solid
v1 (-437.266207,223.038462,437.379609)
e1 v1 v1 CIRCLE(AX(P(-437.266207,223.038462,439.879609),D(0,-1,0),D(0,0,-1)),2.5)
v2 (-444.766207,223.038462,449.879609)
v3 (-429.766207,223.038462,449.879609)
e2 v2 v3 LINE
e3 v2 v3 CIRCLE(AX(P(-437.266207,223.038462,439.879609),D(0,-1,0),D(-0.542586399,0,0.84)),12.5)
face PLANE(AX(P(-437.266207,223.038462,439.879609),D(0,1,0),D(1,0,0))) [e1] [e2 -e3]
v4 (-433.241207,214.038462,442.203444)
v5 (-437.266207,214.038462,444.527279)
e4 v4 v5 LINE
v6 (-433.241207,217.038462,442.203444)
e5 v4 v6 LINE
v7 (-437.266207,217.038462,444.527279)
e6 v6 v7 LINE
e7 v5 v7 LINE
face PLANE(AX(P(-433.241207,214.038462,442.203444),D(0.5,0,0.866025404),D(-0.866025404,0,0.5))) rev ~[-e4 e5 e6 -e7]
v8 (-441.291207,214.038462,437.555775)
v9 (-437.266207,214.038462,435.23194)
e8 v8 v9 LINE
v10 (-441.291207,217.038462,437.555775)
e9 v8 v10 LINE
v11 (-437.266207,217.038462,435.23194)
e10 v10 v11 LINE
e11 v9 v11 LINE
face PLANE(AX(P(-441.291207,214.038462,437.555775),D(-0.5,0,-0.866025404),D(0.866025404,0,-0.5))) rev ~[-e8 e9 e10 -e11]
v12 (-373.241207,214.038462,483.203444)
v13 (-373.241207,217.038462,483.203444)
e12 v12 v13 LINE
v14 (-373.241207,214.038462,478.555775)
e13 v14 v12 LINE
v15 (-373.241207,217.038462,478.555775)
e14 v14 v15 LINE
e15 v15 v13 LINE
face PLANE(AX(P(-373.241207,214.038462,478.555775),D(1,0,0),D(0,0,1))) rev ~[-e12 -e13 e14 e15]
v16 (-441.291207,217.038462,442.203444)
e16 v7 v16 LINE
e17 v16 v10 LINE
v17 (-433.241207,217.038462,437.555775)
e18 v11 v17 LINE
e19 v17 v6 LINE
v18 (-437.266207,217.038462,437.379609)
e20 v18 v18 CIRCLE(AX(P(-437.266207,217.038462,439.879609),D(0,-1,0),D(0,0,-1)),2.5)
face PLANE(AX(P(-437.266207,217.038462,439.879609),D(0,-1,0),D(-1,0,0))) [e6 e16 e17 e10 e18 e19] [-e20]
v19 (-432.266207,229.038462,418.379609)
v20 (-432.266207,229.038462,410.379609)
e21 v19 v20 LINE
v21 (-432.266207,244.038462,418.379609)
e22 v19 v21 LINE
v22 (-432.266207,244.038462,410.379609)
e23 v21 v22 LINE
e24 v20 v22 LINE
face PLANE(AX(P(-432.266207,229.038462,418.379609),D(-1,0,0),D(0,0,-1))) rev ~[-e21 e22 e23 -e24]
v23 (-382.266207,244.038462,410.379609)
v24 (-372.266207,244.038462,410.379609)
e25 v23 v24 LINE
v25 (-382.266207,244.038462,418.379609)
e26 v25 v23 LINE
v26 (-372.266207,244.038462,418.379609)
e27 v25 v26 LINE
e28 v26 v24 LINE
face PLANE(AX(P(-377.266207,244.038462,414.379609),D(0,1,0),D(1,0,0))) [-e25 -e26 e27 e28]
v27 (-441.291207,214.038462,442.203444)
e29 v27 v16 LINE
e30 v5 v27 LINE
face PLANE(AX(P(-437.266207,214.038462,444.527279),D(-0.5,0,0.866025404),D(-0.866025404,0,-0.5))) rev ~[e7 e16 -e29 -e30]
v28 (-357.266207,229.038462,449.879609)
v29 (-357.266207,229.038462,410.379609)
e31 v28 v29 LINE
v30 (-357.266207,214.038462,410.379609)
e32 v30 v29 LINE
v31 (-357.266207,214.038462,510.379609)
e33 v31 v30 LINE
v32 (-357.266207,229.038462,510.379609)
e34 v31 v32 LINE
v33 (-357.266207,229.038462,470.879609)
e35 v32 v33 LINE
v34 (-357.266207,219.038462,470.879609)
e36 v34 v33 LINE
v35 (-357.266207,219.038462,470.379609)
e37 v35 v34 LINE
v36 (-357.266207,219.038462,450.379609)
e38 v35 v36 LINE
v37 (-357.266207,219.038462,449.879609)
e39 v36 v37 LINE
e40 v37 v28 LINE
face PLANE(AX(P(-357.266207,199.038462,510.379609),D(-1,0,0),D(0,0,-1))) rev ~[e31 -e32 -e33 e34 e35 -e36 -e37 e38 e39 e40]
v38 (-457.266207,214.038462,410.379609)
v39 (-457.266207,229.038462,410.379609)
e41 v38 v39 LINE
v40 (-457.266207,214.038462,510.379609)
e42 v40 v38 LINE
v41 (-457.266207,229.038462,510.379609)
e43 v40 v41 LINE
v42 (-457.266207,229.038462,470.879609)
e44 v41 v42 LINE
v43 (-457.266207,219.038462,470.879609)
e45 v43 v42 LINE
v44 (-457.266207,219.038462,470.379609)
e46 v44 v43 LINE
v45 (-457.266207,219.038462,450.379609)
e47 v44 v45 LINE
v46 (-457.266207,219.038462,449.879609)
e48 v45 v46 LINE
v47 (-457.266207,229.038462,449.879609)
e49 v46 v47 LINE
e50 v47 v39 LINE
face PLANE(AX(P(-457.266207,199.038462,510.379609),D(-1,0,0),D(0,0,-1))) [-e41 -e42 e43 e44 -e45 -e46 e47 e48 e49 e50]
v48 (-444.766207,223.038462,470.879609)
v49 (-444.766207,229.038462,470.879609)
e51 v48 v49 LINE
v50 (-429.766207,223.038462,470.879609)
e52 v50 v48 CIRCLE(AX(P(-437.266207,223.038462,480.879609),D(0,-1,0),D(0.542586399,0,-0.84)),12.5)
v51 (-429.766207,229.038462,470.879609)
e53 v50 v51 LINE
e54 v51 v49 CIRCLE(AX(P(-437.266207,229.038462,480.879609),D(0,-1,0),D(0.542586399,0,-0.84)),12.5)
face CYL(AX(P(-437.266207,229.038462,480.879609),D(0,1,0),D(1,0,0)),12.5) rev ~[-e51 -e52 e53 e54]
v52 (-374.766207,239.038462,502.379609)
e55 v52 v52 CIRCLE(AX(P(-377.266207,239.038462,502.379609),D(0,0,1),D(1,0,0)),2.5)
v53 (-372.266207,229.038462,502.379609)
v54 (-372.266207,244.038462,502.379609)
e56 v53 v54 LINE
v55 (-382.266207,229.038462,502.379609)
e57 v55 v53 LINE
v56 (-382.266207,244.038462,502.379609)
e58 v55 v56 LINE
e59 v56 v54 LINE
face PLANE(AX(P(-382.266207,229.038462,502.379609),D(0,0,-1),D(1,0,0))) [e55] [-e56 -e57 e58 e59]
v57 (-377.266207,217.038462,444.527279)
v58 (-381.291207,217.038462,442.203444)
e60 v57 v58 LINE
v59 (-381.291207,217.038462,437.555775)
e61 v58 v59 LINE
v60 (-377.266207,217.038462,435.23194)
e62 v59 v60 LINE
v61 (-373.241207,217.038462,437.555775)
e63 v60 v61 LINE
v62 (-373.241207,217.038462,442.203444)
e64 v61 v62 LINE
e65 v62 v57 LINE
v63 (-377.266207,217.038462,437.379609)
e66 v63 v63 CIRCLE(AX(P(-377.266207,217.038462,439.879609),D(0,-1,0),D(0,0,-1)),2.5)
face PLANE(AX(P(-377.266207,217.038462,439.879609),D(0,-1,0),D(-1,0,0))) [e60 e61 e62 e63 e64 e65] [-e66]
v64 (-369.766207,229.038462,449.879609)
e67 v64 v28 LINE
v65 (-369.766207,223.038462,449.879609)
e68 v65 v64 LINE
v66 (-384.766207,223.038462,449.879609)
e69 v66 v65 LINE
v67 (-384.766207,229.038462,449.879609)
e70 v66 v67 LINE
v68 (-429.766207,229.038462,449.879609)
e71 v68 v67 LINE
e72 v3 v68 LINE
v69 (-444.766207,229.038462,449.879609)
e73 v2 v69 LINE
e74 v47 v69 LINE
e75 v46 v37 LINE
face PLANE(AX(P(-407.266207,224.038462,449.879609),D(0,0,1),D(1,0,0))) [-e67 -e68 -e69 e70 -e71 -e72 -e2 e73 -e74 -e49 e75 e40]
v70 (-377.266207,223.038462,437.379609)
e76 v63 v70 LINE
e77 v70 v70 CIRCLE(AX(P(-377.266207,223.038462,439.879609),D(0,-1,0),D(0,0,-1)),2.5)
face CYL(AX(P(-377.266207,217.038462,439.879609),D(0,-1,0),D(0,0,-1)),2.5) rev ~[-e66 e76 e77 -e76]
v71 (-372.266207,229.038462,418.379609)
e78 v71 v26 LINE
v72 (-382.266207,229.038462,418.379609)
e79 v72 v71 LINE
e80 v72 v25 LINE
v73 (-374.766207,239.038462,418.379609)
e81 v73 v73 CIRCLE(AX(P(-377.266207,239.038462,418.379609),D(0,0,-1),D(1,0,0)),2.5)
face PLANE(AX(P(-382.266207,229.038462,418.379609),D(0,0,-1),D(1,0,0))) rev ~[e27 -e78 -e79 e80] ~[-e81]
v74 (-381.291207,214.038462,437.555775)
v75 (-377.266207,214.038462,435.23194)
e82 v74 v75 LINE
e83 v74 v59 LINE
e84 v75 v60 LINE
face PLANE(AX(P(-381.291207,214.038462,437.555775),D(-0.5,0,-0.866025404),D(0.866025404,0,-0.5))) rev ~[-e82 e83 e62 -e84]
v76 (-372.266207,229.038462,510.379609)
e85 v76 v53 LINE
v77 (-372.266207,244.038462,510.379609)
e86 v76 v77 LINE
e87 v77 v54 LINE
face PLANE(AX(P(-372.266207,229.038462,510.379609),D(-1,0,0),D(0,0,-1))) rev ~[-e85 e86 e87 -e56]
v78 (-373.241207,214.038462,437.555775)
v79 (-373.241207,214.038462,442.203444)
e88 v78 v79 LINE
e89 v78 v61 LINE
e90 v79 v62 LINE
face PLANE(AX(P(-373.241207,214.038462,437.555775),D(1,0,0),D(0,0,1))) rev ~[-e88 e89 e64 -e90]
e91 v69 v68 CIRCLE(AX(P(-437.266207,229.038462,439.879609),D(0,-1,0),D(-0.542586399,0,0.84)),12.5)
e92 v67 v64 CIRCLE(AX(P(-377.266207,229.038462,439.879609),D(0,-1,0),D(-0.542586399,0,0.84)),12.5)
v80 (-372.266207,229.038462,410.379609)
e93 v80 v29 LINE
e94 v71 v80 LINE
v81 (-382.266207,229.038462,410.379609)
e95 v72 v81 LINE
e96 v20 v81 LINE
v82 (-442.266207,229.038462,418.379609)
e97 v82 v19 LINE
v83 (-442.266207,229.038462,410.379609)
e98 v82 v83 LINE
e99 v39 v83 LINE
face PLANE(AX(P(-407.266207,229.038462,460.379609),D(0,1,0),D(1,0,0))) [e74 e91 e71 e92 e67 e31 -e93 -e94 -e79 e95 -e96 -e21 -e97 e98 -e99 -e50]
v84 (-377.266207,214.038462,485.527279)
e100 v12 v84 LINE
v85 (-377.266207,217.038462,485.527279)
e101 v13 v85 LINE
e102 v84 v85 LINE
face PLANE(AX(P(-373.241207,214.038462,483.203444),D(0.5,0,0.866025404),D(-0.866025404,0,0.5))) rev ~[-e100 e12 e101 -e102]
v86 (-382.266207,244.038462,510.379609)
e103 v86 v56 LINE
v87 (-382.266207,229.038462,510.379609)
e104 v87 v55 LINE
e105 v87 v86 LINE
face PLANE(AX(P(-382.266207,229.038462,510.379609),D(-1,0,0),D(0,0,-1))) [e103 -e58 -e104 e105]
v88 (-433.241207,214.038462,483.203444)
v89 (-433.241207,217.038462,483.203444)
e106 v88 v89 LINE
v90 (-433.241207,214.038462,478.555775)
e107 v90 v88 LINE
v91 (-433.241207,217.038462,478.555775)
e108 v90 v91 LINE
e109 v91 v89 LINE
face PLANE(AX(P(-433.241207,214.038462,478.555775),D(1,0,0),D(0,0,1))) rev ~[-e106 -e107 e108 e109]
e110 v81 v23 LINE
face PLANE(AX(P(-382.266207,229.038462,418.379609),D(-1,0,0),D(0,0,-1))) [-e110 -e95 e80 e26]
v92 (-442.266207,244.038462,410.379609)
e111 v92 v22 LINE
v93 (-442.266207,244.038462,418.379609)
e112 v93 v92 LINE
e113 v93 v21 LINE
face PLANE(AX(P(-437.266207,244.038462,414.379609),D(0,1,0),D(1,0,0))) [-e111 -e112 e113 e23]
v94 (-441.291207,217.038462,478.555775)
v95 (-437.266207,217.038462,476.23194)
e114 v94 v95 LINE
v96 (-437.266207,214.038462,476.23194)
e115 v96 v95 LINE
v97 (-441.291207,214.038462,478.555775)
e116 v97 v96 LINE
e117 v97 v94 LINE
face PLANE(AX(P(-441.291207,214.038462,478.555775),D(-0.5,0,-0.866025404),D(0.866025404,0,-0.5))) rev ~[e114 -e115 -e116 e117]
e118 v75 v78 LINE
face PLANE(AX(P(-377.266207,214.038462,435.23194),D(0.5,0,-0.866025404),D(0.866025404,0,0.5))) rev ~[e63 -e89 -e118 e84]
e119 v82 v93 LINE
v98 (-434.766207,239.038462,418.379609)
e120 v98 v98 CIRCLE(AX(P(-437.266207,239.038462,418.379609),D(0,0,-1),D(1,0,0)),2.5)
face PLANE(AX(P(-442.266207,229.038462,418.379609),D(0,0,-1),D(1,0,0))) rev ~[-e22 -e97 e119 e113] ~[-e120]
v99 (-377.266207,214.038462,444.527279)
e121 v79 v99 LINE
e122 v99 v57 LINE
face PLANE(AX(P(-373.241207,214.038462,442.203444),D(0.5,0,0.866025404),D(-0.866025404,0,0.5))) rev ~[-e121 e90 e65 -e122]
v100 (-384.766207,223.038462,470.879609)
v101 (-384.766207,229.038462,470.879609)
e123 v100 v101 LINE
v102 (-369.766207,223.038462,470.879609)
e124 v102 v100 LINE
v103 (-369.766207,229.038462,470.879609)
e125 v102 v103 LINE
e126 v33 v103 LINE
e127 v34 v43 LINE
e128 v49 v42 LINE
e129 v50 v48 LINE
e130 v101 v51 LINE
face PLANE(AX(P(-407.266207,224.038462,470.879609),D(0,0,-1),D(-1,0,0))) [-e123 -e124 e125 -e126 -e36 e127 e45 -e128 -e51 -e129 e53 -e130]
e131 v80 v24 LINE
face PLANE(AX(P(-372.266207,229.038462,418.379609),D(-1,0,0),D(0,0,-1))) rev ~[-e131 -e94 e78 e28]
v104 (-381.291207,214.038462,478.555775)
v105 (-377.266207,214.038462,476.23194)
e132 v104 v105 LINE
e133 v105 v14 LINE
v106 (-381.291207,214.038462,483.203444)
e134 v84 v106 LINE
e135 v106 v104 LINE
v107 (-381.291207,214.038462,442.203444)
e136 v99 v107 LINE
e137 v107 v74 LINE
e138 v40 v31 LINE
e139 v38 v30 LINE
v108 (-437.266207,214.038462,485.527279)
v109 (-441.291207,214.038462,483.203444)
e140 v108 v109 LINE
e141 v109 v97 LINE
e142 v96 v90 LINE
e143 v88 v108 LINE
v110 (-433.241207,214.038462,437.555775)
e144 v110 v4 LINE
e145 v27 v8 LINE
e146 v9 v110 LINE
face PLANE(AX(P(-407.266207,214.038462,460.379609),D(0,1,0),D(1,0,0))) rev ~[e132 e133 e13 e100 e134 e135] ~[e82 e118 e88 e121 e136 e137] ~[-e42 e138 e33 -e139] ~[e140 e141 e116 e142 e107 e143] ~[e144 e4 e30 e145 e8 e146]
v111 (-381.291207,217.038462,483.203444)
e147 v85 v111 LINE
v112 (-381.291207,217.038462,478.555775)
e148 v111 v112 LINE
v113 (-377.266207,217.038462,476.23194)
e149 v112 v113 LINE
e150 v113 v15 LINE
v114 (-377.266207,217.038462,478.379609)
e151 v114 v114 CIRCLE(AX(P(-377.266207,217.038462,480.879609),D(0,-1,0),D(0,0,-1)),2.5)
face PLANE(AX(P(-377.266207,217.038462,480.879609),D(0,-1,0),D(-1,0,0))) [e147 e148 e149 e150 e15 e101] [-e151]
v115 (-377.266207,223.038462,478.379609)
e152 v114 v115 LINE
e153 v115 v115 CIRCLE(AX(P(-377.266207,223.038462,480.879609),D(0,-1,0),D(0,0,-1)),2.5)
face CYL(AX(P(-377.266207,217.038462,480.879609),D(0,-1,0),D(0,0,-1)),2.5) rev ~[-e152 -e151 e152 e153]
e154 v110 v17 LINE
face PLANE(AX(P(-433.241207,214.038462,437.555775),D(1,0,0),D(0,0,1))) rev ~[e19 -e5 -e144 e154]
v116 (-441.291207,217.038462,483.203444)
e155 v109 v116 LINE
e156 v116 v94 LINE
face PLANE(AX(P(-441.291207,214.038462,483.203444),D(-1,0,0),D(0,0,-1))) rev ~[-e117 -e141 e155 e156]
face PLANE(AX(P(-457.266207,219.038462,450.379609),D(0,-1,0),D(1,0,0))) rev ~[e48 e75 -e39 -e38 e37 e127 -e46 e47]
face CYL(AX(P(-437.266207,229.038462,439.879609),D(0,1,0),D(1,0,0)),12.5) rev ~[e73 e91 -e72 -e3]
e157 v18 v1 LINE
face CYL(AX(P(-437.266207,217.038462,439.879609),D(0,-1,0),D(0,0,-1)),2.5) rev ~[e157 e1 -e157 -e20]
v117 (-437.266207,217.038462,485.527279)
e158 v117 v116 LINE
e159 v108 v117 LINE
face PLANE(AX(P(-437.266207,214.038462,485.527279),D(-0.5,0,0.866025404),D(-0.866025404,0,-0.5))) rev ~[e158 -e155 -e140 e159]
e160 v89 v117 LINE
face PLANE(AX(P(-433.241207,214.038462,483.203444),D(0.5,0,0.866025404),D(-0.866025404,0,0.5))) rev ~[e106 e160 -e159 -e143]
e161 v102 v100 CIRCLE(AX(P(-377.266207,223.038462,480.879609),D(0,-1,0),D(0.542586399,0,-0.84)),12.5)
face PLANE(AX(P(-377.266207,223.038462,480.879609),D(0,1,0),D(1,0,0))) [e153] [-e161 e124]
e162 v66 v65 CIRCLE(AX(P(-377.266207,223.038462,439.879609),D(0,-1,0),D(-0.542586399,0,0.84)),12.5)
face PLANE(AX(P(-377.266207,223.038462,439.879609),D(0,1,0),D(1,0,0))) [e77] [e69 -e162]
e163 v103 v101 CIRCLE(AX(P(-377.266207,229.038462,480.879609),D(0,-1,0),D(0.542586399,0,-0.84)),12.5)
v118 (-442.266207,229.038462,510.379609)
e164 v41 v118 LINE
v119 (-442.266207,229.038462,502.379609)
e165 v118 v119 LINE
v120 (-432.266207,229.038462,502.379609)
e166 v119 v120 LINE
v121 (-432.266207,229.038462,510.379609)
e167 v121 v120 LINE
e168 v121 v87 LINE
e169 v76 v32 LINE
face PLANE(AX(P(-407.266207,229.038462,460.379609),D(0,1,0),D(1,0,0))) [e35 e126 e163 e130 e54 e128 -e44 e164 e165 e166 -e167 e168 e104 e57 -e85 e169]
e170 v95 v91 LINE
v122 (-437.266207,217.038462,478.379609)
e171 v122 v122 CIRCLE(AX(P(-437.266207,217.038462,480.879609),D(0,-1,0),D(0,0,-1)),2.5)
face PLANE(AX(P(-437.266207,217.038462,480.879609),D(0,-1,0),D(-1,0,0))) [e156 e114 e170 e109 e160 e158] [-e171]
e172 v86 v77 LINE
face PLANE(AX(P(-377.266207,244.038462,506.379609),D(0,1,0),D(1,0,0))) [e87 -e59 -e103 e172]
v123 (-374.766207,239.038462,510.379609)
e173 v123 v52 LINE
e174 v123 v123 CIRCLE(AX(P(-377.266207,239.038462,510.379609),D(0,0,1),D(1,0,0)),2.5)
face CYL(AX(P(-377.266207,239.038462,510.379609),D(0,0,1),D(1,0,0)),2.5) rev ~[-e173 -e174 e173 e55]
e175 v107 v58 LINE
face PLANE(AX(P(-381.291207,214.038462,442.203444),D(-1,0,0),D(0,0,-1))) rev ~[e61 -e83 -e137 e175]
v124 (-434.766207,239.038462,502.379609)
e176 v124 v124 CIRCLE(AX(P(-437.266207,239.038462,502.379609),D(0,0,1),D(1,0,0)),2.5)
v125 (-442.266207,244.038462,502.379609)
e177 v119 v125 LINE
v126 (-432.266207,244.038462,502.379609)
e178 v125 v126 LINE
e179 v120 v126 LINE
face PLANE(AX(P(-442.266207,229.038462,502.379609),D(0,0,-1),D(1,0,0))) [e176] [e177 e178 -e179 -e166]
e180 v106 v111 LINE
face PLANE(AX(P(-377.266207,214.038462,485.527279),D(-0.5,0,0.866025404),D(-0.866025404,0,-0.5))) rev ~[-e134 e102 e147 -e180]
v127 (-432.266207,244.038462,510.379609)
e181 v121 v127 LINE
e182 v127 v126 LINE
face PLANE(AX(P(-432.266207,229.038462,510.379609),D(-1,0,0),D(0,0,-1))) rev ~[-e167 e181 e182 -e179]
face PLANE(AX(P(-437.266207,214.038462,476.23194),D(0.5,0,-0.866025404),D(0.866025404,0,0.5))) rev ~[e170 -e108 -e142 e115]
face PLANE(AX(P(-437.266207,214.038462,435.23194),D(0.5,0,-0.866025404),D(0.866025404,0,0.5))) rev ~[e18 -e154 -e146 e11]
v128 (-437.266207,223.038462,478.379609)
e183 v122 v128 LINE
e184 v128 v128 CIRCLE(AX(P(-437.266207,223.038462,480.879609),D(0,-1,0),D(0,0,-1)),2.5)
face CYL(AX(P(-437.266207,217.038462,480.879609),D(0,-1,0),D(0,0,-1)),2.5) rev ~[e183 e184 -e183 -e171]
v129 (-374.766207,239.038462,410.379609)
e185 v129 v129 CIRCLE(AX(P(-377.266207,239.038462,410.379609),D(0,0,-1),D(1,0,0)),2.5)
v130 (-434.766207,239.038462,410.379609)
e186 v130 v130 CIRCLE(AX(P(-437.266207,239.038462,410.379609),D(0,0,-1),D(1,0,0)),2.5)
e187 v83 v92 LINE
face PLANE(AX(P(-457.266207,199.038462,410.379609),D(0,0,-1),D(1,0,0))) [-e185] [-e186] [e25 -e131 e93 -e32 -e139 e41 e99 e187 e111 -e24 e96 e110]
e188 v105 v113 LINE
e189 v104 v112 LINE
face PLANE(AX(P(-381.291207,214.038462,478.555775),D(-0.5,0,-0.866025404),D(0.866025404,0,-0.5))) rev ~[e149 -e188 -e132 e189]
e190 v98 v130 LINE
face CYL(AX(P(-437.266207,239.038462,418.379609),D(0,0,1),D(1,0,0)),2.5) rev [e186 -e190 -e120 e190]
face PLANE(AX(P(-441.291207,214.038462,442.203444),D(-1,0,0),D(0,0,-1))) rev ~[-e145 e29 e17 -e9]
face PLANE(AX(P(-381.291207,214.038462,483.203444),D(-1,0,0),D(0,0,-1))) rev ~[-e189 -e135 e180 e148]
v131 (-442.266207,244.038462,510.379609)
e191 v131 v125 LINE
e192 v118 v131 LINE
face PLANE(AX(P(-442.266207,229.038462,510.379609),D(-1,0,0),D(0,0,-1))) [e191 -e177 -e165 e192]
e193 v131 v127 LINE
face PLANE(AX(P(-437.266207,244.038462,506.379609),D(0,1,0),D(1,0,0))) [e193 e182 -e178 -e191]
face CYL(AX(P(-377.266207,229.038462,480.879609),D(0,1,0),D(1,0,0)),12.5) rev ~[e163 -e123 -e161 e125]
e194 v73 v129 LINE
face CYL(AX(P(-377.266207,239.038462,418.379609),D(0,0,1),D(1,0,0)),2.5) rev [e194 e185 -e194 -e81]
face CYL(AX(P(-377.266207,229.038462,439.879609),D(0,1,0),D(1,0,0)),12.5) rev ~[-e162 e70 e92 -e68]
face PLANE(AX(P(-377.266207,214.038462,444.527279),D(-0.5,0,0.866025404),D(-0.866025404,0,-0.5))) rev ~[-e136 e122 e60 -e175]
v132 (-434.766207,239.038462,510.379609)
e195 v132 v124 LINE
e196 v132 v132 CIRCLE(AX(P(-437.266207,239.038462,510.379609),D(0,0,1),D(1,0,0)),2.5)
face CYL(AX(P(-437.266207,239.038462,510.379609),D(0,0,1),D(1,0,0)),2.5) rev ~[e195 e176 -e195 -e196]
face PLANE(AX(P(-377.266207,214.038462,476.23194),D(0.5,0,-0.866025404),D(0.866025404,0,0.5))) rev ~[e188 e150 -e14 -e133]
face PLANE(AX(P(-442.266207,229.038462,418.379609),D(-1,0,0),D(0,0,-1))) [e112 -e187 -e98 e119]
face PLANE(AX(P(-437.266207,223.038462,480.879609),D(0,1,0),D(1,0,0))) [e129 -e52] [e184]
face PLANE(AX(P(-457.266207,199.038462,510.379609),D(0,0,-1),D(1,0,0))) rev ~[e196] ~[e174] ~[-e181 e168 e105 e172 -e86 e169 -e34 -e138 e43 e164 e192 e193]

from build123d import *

# Parameters (mm, degrees)
SKETCH1_W           = 1000
SKETCH1_H           = 1000
BOSS_EXTRUDE1_DEPTH = 300
SKETCH2_W           = 1000
SKETCH2_H           = 200
CUT_EXTRUDE1_DEPTH  = 100
MOVE_FACE1_BY       = 150
SCALE1_SCALE        = 0.1
SKETCH5_R           = 12.5
CUT_EXTRUDE4_DEPTH  = 6
SKETCH11_R          = 12.5
CUT_EXTRUDE5_DEPTH  = 6
SKETCH12_R          = 12.5
CUT_EXTRUDE6_DEPTH  = 6
SKETCH13_R          = 12.5
CUT_EXTRUDE7_DEPTH  = 6
CUT_EXTRUDE8_DEPTH  = 3
SKETCH15_R          = 2.5
CUT_EXTRUDE9_DEPTH  = 16
CUT_EXTRUDE10_DEPTH = 3
SKETCH17_R          = 2.5
CUT_EXTRUDE11_DEPTH = 10
CUT_EXTRUDE12_DEPTH = 3
SKETCH19_R          = 2.5
CUT_EXTRUDE13_DEPTH = 10
CUT_EXTRUDE14_DEPTH = 3
SKETCH21_R          = 2.5
CUT_EXTRUDE15_DEPTH = 10
SKETCH27_W          = 10
SKETCH27_H          = 8
BOSS_EXTRUDE3_DEPTH = 15
CUT_EXTRUDE21_REACH = 529.87
SKETCH28_R          = 2.5
SKETCH30_W          = 10
SKETCH30_H          = 8
BOSS_EXTRUDE4_DEPTH = 15
SKETCH31_R          = 2.5
CUT_EXTRUDE22_DEPTH = 8
SKETCH32_W          = 10
SKETCH32_H          = 8
BOSS_EXTRUDE5_DEPTH = 15
CUT_EXTRUDE23_START = -8
SKETCH33_R          = 2.5
CUT_EXTRUDE23_DEPTH = 8
SKETCH34_W          = 10
SKETCH34_H          = 8
BOSS_EXTRUDE6_DEPTH = 15
CUT_EXTRUDE24_START = -8
SKETCH35_R          = 2.5
CUT_EXTRUDE24_DEPTH = 8
SKETCH40_W          = 100
SKETCH40_H          = 10
CUT_EXTRUDE25_DEPTH = 0.5
SKETCH41_W          = 100
SKETCH41_H          = 10
CUT_EXTRUDE26_DEPTH = 0.5


with BuildPart() as part:
    # Sketch1 → Boss-Extrude1 (new body)
    with BuildSketch(Plane(origin=(0, 0, 0), x_dir=(1, 0, 0), z_dir=(0, 1, 0))):
        with Locations((-407.266206583, -460.379609426)):
            Rectangle(SKETCH1_W, SKETCH1_H)
    extrude(amount=BOSS_EXTRUDE1_DEPTH)

    # Sketch2 → Cut-Extrude1 (cut)
    with BuildSketch(Plane(origin=(0, 300, 0), x_dir=(1, 0, 0), z_dir=(0, 1, 0))):
        with Locations((-407.266206583, -460.379609426)):
            Rectangle(SKETCH2_W, SKETCH2_H)
    extrude(amount=-CUT_EXTRUDE1_DEPTH, mode=Mode.SUBTRACT)

    # Move Face1: a face moved inward by 150.0
    extrude(part.faces().sort_by_distance((-407.266206583, 0, 460.379609426))[0], amount=MOVE_FACE1_BY, dir=(0, 1, 0), mode=Mode.SUBTRACT)


with BuildPart() as part_1:
    # Scale1: scaled about (-407.266206583, 221.153846154, 460.379609426)
    add(part.part.scale(SCALE1_SCALE).moved(Location((-366.539585925, 199.038461539, 414.341648483))))

    # Sketch5 → Cut-Extrude4 (cut)
    with BuildSketch(Plane(origin=(0, 229.038461538, 0), x_dir=(1, 0, 0), z_dir=(0, 1, 0))):
        with Locations((-437.266206583, -439.879609426)):
            Circle(SKETCH5_R)
    extrude(amount=-CUT_EXTRUDE4_DEPTH, mode=Mode.SUBTRACT)

    # Sketch11 → Cut-Extrude5 (cut)
    with BuildSketch(Plane(origin=(0, 229.038461538, 0), x_dir=(1, 0, 0), z_dir=(0, 1, 0))):
        with Locations((-377.266206583, -439.879609426)):
            Circle(SKETCH11_R)
    extrude(amount=-CUT_EXTRUDE5_DEPTH, mode=Mode.SUBTRACT)

    # Sketch12 → Cut-Extrude6 (cut)
    with BuildSketch(Plane(origin=(0, 229.038461538, 0), x_dir=(1, 0, 0), z_dir=(0, 1, 0))):
        with Locations((-377.266206583, -480.879609426)):
            Circle(SKETCH12_R)
    extrude(amount=-CUT_EXTRUDE6_DEPTH, mode=Mode.SUBTRACT)

    # Sketch13 → Cut-Extrude7 (cut)
    with BuildSketch(Plane(origin=(0, 229.038461538, 0), x_dir=(1, 0, 0), z_dir=(0, 1, 0))):
        with Locations((-437.266206583, -480.879609426)):
            Circle(SKETCH13_R)
    extrude(amount=-CUT_EXTRUDE7_DEPTH, mode=Mode.SUBTRACT)

    # Sketch14 → Cut-Extrude8 (cut)
    with BuildSketch(Plane(origin=(0, 214.038461538, 0), x_dir=(-1, 0, 0), z_dir=(0, -1, 0))):
        Polygon((377.266206583, -444.527279093), (381.291206583, -442.20344426), (381.291206583, -437.555774593), (377.266206583, -435.231939759), (373.241206583, -437.555774593), (373.241206583, -442.20344426), align=None)
    extrude(amount=-CUT_EXTRUDE8_DEPTH, mode=Mode.SUBTRACT)

    # Sketch15 → Cut-Extrude9 (cut)
    with BuildSketch(Plane(origin=(0, 217.038461538, 0), x_dir=(-1, 0, 0), z_dir=(0, -1, 0))):
        with Locations(Location((377.266206583, -439.879609426, 0), (0, 0, 90))):
            Circle(SKETCH15_R)
    extrude(amount=-CUT_EXTRUDE9_DEPTH, mode=Mode.SUBTRACT)

    # Sketch16 → Cut-Extrude10 (cut)
    with BuildSketch(Plane(origin=(0, 214.038461538, 0), x_dir=(-1, 0, 0), z_dir=(0, -1, 0))):
        Polygon((437.266206583, -444.527279093), (441.291206583, -442.20344426), (441.291206583, -437.555774593), (437.266206583, -435.231939759), (433.241206583, -437.555774593), (433.241206583, -442.20344426), align=None)
    extrude(amount=-CUT_EXTRUDE10_DEPTH, mode=Mode.SUBTRACT)

    # Sketch17 → Cut-Extrude11 (cut)
    with BuildSketch(Plane(origin=(0, 217.038461538, 0), x_dir=(-1, 0, 0), z_dir=(0, -1, 0))):
        with Locations(Location((437.266206583, -439.879609426, 0), (0, 0, 90))):
            Circle(SKETCH17_R)
    extrude(amount=-CUT_EXTRUDE11_DEPTH, mode=Mode.SUBTRACT)

    # Sketch18 → Cut-Extrude12 (cut)
    with BuildSketch(Plane(origin=(0, 214.038461538, 0), x_dir=(-1, 0, 0), z_dir=(0, -1, 0))):
        Polygon((377.266206583, -485.527279093), (381.291206583, -483.20344426), (381.291206583, -478.555774593), (377.266206583, -476.231939759), (373.241206583, -478.555774593), (373.241206583, -483.20344426), align=None)
    extrude(amount=-CUT_EXTRUDE12_DEPTH, mode=Mode.SUBTRACT)

    # Sketch19 → Cut-Extrude13 (cut)
    with BuildSketch(Plane(origin=(0, 217.038461538, 0), x_dir=(-1, 0, 0), z_dir=(0, -1, 0))):
        with Locations(Location((377.266206583, -480.879609426, 0), (0, 0, 90))):
            Circle(SKETCH19_R)
    extrude(amount=-CUT_EXTRUDE13_DEPTH, mode=Mode.SUBTRACT)

    # Sketch20 → Cut-Extrude14 (cut)
    with BuildSketch(Plane(origin=(0, 214.038461538, 0), x_dir=(-1, 0, 0), z_dir=(0, -1, 0))):
        Polygon((437.266206583, -485.527279093), (441.291206583, -483.20344426), (441.291206583, -478.555774593), (437.266206583, -476.231939759), (433.241206583, -478.555774593), (433.241206583, -483.20344426), align=None)
    extrude(amount=-CUT_EXTRUDE14_DEPTH, mode=Mode.SUBTRACT)

    # Sketch21 → Cut-Extrude15 (cut)
    with BuildSketch(Plane(origin=(0, 217.038461538, 0), x_dir=(-1, 0, 0), z_dir=(0, -1, 0))):
        with Locations(Location((437.266206583, -480.879609426, 0), (0, 0, 90))):
            Circle(SKETCH21_R)
    extrude(amount=-CUT_EXTRUDE15_DEPTH, mode=Mode.SUBTRACT)

    # Sketch27 → Boss-Extrude3 (add)
    with BuildSketch(Plane(origin=(0, 229.038461538, 0), x_dir=(1, 0, 0), z_dir=(0, 1, 0))):
        with Locations((-437.266206583, -506.379609426)):
            Rectangle(SKETCH27_W, SKETCH27_H)
    extrude(amount=BOSS_EXTRUDE3_DEPTH)

    # Sketch28 → Cut-Extrude21 (cut, up to next)
    with BuildSketch(Plane.XY.offset(510.379609426), mode=Mode.PRIVATE) as cut_extrude21_sk1:
        with Locations((-437.266206583, 239.038461538)):
            Circle(SKETCH28_R)
    cut_extrude21_tool1 = extrude(cut_extrude21_sk1.sketch, amount=-CUT_EXTRUDE21_REACH, mode=Mode.PRIVATE) & part_1.part
    add(cut_extrude21_tool1.solids().sort_by_distance((-437.266207, 239.038462, 510.379609))[0], mode=Mode.SUBTRACT)

    # Sketch30 → Boss-Extrude4 (add)
    with BuildSketch(Plane(origin=(0, 229.038461538, 0), x_dir=(1, 0, 0), z_dir=(0, 1, 0))):
        with Locations((-377.266206583, -506.379609426)):
            Rectangle(SKETCH30_W, SKETCH30_H)
    extrude(amount=BOSS_EXTRUDE4_DEPTH)

    # Sketch31 → Cut-Extrude22 (cut)
    with BuildSketch(Plane.XY.offset(510.379609426)):
        with Locations((-377.266206583, 239.038461538)):
            Circle(SKETCH31_R)
    extrude(amount=-CUT_EXTRUDE22_DEPTH, mode=Mode.SUBTRACT)

    # Sketch32 → Boss-Extrude5 (add)
    with BuildSketch(Plane(origin=(0, 229.038461538, 0), x_dir=(1, 0, 0), z_dir=(0, 1, 0))):
        with Locations((-437.266206583, -414.379609426)):
            Rectangle(SKETCH32_W, SKETCH32_H)
    extrude(amount=BOSS_EXTRUDE5_DEPTH)

    # Sketch33 → Cut-Extrude23 (cut)
    with BuildSketch(Plane(origin=(0, 0, 410.379609426), x_dir=(-1, 0, 0), z_dir=(0, 0, -1)).offset(CUT_EXTRUDE23_START)):
        with Locations(Location((437.266206583, 239.038461538, 0), (0, 0, 180))):
            Circle(SKETCH33_R)
    extrude(amount=CUT_EXTRUDE23_DEPTH, mode=Mode.SUBTRACT)

    # Sketch34 → Boss-Extrude6 (add)
    with BuildSketch(Plane(origin=(0, 229.038461538, 0), x_dir=(1, 0, 0), z_dir=(0, 1, 0))):
        with Locations((-377.266206583, -414.379609426)):
            Rectangle(SKETCH34_W, SKETCH34_H)
    extrude(amount=BOSS_EXTRUDE6_DEPTH)

    # Sketch35 → Cut-Extrude24 (cut)
    with BuildSketch(Plane(origin=(0, 0, 410.379609426), x_dir=(-1, 0, 0), z_dir=(0, 0, -1)).offset(CUT_EXTRUDE24_START)):
        with Locations(Location((377.266206583, 239.038461538, 0), (0, 0, 180))):
            Circle(SKETCH35_R)
    extrude(amount=CUT_EXTRUDE24_DEPTH, mode=Mode.SUBTRACT)

    # Sketch40 → Cut-Extrude25 (cut)
    with BuildSketch(Plane(origin=(0, 0, 470.379609426), x_dir=(-1, 0, 0), z_dir=(0, 0, -1))):
        with Locations((407.266206583, 224.038461538)):
            Rectangle(SKETCH40_W, SKETCH40_H)
    extrude(amount=-CUT_EXTRUDE25_DEPTH, mode=Mode.SUBTRACT)

    # Sketch41 → Cut-Extrude26 (cut)
    with BuildSketch(Plane.XY.offset(450.379609426)):
        with Locations((-407.266206583, 224.038461538)):
            Rectangle(SKETCH41_W, SKETCH41_H)
    extrude(amount=-CUT_EXTRUDE26_DEPTH, mode=Mode.SUBTRACT)


solid = part_1.part
